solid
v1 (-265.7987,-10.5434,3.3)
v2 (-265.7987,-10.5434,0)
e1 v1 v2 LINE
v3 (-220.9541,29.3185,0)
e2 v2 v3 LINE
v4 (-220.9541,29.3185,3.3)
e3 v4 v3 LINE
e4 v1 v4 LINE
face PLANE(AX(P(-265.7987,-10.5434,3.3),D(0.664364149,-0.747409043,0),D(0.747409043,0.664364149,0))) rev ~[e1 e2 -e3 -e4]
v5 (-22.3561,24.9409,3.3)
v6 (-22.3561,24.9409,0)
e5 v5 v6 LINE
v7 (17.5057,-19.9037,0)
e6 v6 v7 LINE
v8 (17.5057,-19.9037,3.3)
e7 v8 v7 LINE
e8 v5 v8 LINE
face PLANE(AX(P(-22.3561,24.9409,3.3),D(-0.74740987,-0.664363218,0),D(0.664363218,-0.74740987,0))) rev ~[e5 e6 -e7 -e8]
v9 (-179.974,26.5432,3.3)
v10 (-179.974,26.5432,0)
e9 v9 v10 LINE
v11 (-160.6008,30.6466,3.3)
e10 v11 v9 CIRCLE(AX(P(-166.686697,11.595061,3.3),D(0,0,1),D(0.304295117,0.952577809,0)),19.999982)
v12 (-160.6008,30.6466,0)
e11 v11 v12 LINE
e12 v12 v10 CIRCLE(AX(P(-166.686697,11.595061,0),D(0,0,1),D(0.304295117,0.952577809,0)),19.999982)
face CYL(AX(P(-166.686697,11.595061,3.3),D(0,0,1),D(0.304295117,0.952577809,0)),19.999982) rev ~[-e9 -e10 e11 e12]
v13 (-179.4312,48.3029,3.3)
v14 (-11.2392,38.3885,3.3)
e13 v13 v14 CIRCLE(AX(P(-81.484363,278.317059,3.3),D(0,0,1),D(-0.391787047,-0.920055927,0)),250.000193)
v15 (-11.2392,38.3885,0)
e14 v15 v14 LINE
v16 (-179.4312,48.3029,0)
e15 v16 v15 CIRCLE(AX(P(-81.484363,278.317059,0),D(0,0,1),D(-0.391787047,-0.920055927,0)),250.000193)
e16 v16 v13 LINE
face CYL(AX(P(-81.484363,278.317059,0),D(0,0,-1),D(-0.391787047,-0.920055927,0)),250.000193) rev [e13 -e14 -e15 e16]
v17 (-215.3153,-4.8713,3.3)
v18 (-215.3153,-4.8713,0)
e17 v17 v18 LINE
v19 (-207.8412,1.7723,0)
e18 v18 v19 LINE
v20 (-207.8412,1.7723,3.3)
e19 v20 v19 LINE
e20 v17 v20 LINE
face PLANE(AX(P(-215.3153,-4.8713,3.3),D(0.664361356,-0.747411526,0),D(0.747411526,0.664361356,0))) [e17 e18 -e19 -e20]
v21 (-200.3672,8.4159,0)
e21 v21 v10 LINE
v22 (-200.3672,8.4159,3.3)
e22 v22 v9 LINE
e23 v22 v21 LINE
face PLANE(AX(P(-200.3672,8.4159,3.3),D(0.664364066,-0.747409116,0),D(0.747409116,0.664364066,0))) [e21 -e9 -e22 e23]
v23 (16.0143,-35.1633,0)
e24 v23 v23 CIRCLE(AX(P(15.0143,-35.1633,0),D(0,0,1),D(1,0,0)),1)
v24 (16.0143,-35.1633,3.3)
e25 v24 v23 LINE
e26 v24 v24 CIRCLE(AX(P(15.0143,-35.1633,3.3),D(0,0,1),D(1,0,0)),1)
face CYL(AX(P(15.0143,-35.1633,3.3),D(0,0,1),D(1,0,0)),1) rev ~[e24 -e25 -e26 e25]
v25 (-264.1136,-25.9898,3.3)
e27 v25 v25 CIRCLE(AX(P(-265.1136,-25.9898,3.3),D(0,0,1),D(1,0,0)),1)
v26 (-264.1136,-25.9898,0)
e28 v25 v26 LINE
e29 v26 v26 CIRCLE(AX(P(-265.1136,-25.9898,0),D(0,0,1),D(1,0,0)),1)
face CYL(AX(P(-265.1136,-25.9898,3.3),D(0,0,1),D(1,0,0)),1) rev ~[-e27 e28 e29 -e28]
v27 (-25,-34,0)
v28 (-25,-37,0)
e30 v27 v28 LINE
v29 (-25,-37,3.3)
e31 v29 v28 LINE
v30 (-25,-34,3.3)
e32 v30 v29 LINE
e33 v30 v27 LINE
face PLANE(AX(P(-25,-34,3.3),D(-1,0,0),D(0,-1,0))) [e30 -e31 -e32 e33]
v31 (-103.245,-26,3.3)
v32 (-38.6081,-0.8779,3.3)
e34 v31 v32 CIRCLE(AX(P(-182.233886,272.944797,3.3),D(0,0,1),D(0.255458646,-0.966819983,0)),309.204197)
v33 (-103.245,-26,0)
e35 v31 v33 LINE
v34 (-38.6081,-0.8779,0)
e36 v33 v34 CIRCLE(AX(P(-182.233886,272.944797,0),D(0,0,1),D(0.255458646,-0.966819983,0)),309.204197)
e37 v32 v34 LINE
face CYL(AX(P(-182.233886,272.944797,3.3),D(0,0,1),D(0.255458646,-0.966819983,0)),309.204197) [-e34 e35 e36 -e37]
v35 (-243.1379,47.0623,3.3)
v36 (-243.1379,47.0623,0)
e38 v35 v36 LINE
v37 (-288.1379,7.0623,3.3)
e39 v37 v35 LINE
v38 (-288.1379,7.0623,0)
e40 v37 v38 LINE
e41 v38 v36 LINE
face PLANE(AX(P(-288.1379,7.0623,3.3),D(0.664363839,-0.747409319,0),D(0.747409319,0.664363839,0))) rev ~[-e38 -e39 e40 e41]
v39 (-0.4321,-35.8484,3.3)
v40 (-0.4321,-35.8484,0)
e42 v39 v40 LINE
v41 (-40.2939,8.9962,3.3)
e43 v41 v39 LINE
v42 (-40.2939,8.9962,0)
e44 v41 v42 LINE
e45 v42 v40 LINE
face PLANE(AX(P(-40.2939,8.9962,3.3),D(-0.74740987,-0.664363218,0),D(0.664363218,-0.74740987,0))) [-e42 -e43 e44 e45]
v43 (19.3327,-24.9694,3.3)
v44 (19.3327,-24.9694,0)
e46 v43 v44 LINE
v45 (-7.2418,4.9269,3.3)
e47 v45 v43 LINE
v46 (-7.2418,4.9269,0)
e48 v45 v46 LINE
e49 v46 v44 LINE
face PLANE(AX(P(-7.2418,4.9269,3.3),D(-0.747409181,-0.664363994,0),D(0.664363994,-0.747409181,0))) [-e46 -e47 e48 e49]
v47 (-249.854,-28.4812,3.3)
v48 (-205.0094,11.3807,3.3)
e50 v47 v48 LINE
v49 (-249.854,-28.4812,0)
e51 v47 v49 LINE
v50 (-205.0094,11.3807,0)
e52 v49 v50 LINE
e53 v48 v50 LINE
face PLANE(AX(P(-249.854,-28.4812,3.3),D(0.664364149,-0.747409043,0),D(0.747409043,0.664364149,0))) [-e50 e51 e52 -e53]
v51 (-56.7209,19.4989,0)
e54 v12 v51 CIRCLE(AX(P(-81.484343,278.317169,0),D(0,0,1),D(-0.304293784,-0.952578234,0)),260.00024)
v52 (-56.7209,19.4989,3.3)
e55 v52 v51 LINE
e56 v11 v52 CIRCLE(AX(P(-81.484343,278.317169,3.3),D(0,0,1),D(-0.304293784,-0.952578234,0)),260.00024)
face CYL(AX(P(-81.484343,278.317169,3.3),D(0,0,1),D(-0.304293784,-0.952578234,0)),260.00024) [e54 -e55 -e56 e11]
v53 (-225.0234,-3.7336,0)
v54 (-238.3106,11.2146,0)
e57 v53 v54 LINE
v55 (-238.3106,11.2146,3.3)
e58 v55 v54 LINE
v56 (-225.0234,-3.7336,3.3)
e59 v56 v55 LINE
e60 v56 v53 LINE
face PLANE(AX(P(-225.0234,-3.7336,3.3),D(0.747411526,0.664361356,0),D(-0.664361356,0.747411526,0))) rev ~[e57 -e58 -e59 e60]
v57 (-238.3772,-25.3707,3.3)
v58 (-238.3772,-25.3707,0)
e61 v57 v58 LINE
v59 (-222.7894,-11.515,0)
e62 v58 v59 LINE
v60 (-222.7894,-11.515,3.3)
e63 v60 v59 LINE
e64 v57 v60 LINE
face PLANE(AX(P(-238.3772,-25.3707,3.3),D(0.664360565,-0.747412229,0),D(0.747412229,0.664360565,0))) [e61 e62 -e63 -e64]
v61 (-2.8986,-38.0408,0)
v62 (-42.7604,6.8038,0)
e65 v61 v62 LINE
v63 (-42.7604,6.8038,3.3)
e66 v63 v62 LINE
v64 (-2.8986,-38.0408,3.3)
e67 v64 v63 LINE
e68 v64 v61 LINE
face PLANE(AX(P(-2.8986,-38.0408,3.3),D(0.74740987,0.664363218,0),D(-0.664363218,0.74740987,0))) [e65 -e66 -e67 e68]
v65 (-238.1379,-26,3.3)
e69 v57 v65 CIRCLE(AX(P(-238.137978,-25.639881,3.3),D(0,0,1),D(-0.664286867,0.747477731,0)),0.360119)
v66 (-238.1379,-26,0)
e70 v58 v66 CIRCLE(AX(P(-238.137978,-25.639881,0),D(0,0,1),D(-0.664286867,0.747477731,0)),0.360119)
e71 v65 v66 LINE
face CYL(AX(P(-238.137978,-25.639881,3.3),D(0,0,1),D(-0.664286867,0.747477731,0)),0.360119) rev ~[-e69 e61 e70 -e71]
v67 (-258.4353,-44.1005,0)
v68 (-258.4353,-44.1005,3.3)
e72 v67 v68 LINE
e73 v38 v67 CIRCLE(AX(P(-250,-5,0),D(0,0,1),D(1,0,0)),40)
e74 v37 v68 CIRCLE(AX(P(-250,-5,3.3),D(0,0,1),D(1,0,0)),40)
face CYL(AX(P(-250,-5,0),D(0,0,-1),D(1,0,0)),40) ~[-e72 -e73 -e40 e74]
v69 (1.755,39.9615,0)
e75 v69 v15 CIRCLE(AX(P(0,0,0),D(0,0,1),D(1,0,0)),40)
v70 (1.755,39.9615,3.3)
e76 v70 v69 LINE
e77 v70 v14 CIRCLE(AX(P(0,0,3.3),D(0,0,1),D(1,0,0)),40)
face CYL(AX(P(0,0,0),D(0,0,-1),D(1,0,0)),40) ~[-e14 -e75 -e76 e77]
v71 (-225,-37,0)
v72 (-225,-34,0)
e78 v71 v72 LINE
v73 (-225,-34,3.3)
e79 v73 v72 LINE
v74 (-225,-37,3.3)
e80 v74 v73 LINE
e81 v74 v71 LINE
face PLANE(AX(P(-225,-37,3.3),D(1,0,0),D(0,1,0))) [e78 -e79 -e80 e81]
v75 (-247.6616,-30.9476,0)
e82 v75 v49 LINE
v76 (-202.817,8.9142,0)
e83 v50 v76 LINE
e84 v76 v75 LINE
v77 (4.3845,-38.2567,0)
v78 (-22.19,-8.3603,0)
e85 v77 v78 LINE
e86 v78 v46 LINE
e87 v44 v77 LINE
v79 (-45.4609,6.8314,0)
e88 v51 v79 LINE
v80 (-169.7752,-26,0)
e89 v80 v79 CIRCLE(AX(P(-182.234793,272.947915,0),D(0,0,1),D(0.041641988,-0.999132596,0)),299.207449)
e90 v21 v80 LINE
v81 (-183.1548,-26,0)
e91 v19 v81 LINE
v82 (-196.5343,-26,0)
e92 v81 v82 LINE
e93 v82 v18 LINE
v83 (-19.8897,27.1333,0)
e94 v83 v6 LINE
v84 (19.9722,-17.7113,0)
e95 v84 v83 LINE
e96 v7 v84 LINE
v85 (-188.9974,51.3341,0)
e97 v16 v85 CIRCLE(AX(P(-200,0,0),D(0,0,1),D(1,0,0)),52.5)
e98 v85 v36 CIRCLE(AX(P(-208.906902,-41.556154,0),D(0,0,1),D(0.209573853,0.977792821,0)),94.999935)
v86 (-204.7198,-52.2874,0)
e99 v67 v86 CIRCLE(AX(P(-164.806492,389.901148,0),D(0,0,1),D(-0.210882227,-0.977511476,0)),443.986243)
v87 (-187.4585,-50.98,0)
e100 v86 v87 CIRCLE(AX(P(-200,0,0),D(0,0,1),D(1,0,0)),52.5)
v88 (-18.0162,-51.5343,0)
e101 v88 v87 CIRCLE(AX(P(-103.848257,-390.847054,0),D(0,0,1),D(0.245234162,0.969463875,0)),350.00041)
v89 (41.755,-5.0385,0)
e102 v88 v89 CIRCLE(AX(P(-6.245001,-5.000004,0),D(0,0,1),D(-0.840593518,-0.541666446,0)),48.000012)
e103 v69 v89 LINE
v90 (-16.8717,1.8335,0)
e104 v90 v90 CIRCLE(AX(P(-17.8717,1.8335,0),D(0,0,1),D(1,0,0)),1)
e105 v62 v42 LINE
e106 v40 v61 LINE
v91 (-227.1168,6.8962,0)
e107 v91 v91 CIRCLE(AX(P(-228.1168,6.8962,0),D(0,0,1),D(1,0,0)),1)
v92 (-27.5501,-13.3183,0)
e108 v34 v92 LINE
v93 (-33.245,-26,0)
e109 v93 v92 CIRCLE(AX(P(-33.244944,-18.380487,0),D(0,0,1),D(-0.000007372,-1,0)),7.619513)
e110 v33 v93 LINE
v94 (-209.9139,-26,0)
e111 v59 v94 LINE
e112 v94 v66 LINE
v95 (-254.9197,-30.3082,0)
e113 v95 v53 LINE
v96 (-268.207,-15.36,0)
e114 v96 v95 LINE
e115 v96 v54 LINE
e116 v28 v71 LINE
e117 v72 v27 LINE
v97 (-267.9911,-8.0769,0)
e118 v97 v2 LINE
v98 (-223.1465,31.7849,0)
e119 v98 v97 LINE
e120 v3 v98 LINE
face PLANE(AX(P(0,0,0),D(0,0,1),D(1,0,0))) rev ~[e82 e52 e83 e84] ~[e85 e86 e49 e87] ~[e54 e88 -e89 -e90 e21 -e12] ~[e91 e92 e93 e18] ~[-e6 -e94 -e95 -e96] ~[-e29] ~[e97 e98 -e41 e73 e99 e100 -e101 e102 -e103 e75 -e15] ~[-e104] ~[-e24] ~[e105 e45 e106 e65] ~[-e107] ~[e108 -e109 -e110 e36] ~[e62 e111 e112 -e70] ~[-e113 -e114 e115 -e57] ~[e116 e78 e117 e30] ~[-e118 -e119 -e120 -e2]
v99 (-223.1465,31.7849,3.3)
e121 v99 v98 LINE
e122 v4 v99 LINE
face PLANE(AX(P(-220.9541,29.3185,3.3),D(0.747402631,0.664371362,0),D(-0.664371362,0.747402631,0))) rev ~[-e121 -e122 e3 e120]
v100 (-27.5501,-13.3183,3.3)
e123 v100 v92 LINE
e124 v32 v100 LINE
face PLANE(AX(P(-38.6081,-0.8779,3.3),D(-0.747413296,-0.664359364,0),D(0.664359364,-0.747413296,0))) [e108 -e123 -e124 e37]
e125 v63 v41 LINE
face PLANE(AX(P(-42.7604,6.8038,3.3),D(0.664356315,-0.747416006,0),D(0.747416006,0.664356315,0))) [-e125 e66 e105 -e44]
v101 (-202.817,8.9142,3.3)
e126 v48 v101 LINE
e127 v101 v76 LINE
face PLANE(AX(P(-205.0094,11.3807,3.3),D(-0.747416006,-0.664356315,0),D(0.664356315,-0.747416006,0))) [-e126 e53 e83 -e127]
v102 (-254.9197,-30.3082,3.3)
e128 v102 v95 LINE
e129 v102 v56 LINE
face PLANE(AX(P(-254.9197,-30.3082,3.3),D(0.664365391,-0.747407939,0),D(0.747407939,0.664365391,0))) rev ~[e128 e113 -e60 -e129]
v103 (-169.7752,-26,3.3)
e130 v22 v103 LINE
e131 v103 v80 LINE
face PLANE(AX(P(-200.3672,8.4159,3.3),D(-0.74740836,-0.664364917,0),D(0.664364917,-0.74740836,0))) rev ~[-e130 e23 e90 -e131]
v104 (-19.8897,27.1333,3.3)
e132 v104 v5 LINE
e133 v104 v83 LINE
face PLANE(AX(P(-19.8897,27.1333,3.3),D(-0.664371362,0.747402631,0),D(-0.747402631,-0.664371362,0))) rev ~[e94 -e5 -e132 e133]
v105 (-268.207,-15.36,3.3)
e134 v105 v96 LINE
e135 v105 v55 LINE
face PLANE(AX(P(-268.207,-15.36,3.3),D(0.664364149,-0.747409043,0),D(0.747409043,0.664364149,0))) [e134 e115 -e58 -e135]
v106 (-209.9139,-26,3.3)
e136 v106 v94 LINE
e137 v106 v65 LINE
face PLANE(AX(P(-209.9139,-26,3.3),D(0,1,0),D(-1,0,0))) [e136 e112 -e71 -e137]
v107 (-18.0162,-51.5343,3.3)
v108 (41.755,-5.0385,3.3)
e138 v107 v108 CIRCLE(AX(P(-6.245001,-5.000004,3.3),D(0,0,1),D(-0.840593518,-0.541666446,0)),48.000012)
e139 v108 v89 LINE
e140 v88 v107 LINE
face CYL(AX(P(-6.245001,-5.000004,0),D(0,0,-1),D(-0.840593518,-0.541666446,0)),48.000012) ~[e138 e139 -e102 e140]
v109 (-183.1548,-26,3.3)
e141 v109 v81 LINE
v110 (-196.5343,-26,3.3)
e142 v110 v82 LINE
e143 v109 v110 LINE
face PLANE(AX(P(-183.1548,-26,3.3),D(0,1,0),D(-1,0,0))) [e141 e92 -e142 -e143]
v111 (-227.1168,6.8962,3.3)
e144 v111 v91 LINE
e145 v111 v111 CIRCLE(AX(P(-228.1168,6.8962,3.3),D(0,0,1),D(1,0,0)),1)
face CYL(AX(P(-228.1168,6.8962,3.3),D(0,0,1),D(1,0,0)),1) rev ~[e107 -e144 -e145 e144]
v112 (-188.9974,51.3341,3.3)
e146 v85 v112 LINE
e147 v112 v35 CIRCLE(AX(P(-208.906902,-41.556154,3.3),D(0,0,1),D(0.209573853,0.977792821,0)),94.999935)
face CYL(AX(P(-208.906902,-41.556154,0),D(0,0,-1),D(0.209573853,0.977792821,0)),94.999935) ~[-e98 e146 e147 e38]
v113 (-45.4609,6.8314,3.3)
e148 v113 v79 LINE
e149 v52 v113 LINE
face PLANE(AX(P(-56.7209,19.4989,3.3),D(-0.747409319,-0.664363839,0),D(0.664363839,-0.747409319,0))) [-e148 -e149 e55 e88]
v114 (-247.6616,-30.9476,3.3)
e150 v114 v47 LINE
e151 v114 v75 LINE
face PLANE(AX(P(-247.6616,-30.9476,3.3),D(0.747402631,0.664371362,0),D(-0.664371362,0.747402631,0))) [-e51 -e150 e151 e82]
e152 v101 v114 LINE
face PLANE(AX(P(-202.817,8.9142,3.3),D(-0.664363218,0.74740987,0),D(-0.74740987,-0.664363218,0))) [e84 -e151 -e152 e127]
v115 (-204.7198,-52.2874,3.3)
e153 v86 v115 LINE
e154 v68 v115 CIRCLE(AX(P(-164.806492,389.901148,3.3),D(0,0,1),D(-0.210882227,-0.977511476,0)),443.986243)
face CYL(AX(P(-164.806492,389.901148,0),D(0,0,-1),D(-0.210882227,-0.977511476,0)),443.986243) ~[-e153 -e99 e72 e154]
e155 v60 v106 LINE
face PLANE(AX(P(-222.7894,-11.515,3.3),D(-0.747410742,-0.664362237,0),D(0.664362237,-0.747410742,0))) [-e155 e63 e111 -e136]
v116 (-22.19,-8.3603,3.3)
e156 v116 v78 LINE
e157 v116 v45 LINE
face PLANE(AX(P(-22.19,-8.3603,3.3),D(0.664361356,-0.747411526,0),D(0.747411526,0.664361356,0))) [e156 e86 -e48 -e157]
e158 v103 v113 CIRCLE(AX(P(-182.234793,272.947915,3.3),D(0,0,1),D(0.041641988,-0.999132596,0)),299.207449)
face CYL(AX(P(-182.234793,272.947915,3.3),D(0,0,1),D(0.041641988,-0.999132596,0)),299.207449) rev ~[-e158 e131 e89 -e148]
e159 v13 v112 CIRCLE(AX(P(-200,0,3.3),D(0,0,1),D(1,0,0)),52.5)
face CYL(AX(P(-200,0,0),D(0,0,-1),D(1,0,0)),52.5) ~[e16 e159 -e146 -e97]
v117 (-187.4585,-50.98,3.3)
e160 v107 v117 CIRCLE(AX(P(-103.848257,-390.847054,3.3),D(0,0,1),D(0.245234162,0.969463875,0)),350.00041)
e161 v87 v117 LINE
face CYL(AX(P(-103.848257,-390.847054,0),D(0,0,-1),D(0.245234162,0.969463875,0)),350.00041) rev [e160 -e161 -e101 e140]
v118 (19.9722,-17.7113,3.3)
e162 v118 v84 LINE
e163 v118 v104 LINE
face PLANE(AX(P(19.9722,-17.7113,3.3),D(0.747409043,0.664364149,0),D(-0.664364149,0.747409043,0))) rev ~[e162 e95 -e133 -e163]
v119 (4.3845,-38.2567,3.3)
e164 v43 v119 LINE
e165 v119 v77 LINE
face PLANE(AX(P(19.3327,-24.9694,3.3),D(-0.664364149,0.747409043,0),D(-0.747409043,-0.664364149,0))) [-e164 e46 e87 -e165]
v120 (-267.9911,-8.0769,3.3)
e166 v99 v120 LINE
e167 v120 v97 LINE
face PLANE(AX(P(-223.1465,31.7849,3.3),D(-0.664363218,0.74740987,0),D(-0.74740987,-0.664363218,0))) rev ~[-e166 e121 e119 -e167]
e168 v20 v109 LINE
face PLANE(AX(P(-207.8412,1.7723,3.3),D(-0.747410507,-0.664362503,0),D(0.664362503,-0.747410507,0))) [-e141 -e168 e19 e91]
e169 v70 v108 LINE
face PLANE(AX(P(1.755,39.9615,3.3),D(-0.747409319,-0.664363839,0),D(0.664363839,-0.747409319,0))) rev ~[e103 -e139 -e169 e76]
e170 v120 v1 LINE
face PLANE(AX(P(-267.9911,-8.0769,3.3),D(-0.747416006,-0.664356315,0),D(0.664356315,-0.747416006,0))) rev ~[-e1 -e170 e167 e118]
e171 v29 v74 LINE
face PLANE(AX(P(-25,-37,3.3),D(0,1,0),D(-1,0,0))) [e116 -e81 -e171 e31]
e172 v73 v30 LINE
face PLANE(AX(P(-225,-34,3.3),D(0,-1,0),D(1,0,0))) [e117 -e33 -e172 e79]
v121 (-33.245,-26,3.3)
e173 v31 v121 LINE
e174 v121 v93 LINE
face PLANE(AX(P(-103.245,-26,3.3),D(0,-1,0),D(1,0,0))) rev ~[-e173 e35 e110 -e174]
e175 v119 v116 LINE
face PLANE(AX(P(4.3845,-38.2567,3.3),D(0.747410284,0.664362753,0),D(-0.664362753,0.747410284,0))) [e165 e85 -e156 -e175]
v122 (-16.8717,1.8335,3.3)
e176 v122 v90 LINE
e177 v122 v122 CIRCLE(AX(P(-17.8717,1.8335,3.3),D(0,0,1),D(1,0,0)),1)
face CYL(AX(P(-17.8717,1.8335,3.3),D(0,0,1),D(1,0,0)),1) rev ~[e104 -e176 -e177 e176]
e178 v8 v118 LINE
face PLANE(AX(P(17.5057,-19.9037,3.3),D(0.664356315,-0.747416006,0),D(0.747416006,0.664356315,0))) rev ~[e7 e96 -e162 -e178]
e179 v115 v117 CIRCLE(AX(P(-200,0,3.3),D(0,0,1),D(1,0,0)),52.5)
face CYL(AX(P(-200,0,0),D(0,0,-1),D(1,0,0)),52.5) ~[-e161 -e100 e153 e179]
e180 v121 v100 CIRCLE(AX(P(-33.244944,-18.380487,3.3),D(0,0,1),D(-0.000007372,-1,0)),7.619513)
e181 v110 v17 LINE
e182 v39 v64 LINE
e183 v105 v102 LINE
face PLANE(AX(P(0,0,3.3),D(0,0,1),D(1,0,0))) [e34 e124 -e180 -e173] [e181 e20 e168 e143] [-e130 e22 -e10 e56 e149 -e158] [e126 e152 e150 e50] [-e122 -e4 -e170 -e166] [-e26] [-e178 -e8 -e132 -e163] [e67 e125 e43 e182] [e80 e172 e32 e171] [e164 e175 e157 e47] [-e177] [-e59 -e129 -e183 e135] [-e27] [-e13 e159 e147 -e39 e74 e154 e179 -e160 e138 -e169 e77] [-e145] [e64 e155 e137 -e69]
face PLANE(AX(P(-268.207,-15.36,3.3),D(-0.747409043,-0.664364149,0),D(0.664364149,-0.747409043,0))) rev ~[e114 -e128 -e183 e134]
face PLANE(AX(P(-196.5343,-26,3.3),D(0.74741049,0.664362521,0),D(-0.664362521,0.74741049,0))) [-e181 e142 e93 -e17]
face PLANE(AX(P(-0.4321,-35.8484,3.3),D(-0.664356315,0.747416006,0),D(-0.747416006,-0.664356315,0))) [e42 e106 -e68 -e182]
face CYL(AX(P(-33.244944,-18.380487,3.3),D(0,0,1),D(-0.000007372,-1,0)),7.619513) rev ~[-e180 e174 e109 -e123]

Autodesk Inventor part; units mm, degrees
ref_plane "YZ Plane" through (0, 0, 0) normal (1, 0, 0) x (0, 1, 0)
ref_plane "XZ Plane" through (0, 0, 0) normal (0, 1, 0) x (-1, 0, 0)
ref_plane "XY Plane" through (0, 0, 0) normal (0, 0, 1) x (1, 0, 0)
sketch "Boceto2" plane through (0, 0, 0) normal (0, 0, 1) x (1, 0, 0)
  circle A0 centre (0, 0) radius 40
  circle A1 centre (-200, 0) radius 52.5
  circle A2 centre (-250, -5) radius 40
  arc A3 (-258.4353, -44.1005) -> (-204.7198, -52.2874) centre (-164.804, 389.9147) ccw
  arc A4 (-188.9974, 51.3341) -> (-279.8859, 21.5863) centre (-208.9069, -41.5562) ccw
  arc A5 (-179.4312, 48.3029) -> (-11.2392, 38.3885) centre (-81.4844, 278.3169) ccw
  arc A6 (-46.5935, -31) -> (31.225, 25) centre (-6.245, -5) ccw
  arc A7 (-18.0162, -51.5343) -> (-187.4585, -50.98) centre (-103.8482, -390.8466) ccw
  dimension "d42" = 80
  dimension "d43" = 200
  dimension "d44" = 105
  dimension "d45" = 80
  dimension "d46" = 50
  dimension "d47" = 5
  dimension "d48" = 444
  dimension "d49" = 95
  dimension "d50" = 250
  dimension "d51" = 350
  dimension "d52" = 5
  dimension "d53" = 48
  dimension "d54" = 31
extrude "Extrusión1" add sketch "Boceto2" along normal blind 3.3
sketch "Boceto3" plane through (0, 0, 3.3) normal (0, 0, 1) x (1, 0, 0)
  arc A0 (-179.4312, 48.3029) -> (-11.2392, 38.3885) centre (-81.4844, 278.3169) ccw projected
  arc A1 (31.225, 25) -> (-11.2392, 38.3885) centre (0, 0) ccw projected
  arc A2 (-179.4312, 48.3029) -> (-11.2392, 38.3885) centre (-81.4844, 278.3169) ccw projected
  arc A3 (-179.4312, 48.3029) -> (-188.9974, 51.3341) centre (-200, 0) ccw projected
  arc A4 (-188.9974, 51.3341) -> (-279.8859, 21.5863) centre (-208.9069, -41.5562) ccw projected
  arc A5 (-279.8859, 21.5863) -> (-258.4353, -44.1005) centre (-250, -5) ccw projected
  arc A6 (-258.4353, -44.1005) -> (-204.7198, -52.2874) centre (-164.804, 389.9147) ccw projected
  arc A7 (-204.7198, -52.2874) -> (-187.4585, -50.98) centre (-200, 0) ccw projected
  arc A8 (-18.0162, -51.5343) -> (-187.4585, -50.98) centre (-103.8482, -390.8466) ccw projected
  arc A9 (-18.0162, -51.5343) -> (31.225, 25) centre (-6.245, -5) ccw projected
  arc A10 (-18.0162, -51.5343) -> (31.225, 25) centre (-6.245, -5) ccw projected
  arc A11 (31.225, 25) -> (-11.2392, 38.3885) centre (0, 0) ccw projected
  line L0 (1.755, 39.9615) -> (41.755, -5.0385)
  arc A12 (-279.8859, 21.5863) -> (-258.4353, -44.1005) centre (-250, -5) ccw projected
  line L1 (-288.1379, 7.0623) -> (-243.1379, 47.0623)
  arc A13 (-188.9974, 51.3341) -> (-279.8859, 21.5863) centre (-208.9069, -41.5562) ccw projected
  line L2 (-7.2418, 4.9269) -> (19.3327, -24.9694)
  line L3 (19.3327, -24.9694) -> (4.3845, -38.2567)
  line L4 (4.3845, -38.2567) -> (-22.19, -8.3603)
  line L5 (-22.19, -8.3603) -> (-7.2418, 4.9269)
  line L6 (-268.207, -15.36) -> (-254.9197, -30.3082)
  line L7 (-254.9197, -30.3082) -> (-225.0234, -3.7336)
  line L8 (-225.0234, -3.7336) -> (-238.3106, 11.2146)
  line L9 (-268.207, -15.36) -> (-238.3106, 11.2146)
  line L10 (-265.7987, -10.5434) -> (-220.9541, 29.3185)
  line L11 (-223.1465, 31.7849) -> (-267.9911, -8.0769)
  line L12 (-249.854, -28.4812) -> (-205.0094, 11.3807)
  line L13 (-205.0094, 11.3807) -> (-202.817, 8.9142)
  line L14 (-202.817, 8.9142) -> (-247.6616, -30.9476)
  line L15 (-247.6616, -30.9476) -> (-249.854, -28.4812)
  circle A14 centre (-228.1168, 6.8962) radius 1
  circle A15 centre (-265.1136, -25.9898) radius 1
  line L16 (-22.3561, 24.9409) -> (17.5057, -19.9037)
  line L17 (17.5057, -19.9037) -> (19.9722, -17.7113)
  line L18 (19.9722, -17.7113) -> (-19.8897, 27.1333)
  line L19 (-19.8897, 27.1333) -> (-22.3561, 24.9409)
  line L20 (-40.2939, 8.9962) -> (-0.4321, -35.8484)
  line L21 (-0.4321, -35.8484) -> (-2.8986, -38.0408)
  line L22 (-2.8986, -38.0408) -> (-42.7604, 6.8038)
  line L23 (-42.7604, 6.8038) -> (-40.2939, 8.9962)
  circle A16 centre (-17.8717, 1.8335) radius 1
  circle A17 centre (15.0143, -35.1633) radius 1
  arc A18 (-18.0162, -51.5343) -> (-187.4585, -50.98) centre (-103.8482, -390.8466) ccw projected
  line L24 (-220.9541, 29.3185) -> (-223.1465, 31.7849)
  line L25 (-267.9911, -8.0769) -> (-265.7987, -10.5434)
  line L26 (-253.2588, -2.0727) -> (-239.9715, -17.0209) construction
  line L27 (-8.9028, -23.3085) -> (6.0454, -10.0212) construction
  line L28 (-225, -34) -> (-25, -34)
  line L29 (-25, -34) -> (-25, -37)
  line L30 (-25, -37) -> (-225, -37)
  line L31 (-225, -37) -> (-225, -34)
  dimension "d59" = 40
  dimension "d60" = 45
  dimension "d61" = 40
  dimension "d62" = 45
  dimension "d65" = 40
  dimension "d66" = 20
  dimension "d68" = 30
  dimension "d69" = 0
  dimension "d70" = 40
  dimension "d71" = 20
  dimension "d73" = 30
  dimension "d74" = 0
  dimension "d75" = 2
  dimension "d76" = 2
  dimension "d77" = 3.3
  dimension "d78" = 3.3
  dimension "d80" = 60
  dimension "d84" = 2
  dimension "d85" = 2
  dimension "d86" = 4.75
  dimension "d87" = 10
  dimension "d88" = 4.75
  dimension "d89" = 10
  dimension "d90" = 2
  dimension "d91" = 2
  dimension "d94" = 3.3
  dimension "d95" = 3.3
  dimension "d96" = 60
  dimension "d97" = 60
  dimension "d98" = 2
  dimension "d99" = 10
  dimension "d100" = 10
  dimension "d101" = 4.75
  dimension "d102" = 4.75
  dimension "d103" = 60
  dimension "d105" = 15
  dimension "d106" = 15
  dimension "d107" = 15
  dimension "d108" = 15
  dimension "d109" = 3
  dimension "d110" = 34
  dimension "d111" = 200
  dimension "d112" = 25
extrude "Extrusión2" cut sketch "Boceto3" against normal blind 3.3 contours A1 A9 L0 | L1 A5 A4 | L2 L3 L4 L5 | L9 L8 L7 L6 | L25 L11 L24 L10 | L12 L13 L14 L15 | A14 | A15 | L19 L18 L17 L16 | L20 L21 L22 L23 | A16 | A17 | L28 L29 L30 L31
sketch "Sketch4" plane through (0, 0, 3.3) normal (0, 0, 1) x (1, 0, 0)
  arc A0 (-179.4312, 48.3029) -> (-11.2392, 38.3885) centre (-81.4844, 278.3169) ccw projected
  line L0 (-225, -34) -> (-25, -34) projected
  arc A1 (-179.4312, 48.3029) -> (-188.9974, 51.3341) centre (-200, 0) ccw projected
  arc A2 (-188.9974, 51.3341) -> (-243.1379, 47.0623) centre (-208.9069, -41.5562) ccw projected
  line L1 (-209.9139, -26) -> (-238.1379, -26)
  line L2 (41.755, -5.0385) -> (1.755, 39.9615) projected
  arc A3 (1.755, 39.9615) -> (-11.2392, 38.3885) centre (0, 0) ccw projected
  arc A4 (-179.4312, 48.3029) -> (-11.2392, 38.3885) centre (-81.4844, 278.3169) ccw projected
  arc A5 (-179.4312, 48.3029) -> (-188.9974, 51.3341) centre (-200, 0) ccw projected
  arc A6 (-188.9974, 51.3341) -> (-243.1379, 47.0623) centre (-208.9069, -41.5562) ccw projected
  line L3 (-243.1379, 47.0623) -> (-288.1379, 7.0623) projected
  arc A7 (-288.1379, 7.0623) -> (-258.4353, -44.1005) centre (-250, -5) ccw projected
  arc A8 (-258.4353, -44.1005) -> (-204.7198, -52.2874) centre (-164.804, 389.9147) ccw projected
  arc A9 (-204.7198, -52.2874) -> (-187.4585, -50.98) centre (-200, 0) ccw projected
  arc A10 (-18.0162, -51.5343) -> (-187.4585, -50.98) centre (-103.8482, -390.8466) ccw projected
  arc A11 (-18.0162, -51.5343) -> (41.755, -5.0385) centre (-6.245, -5) ccw projected
  line L4 (-225.0234, -3.7336) -> (-254.9197, -30.3082) projected
  line L5 (-254.9197, -30.3082) -> (-268.207, -15.36) projected
  line L6 (-268.207, -15.36) -> (-238.3106, 11.2146) projected
  line L7 (-238.3106, 11.2146) -> (-225.0234, -3.7336) projected
  line L8 (-247.6616, -30.9476) -> (-249.854, -28.4812) projected
  line L9 (-249.854, -28.4812) -> (-205.0094, 11.3807) projected
  line L10 (-205.0094, 11.3807) -> (-202.817, 8.9142) projected
  line L11 (-202.817, 8.9142) -> (-247.6616, -30.9476) projected
  line L12 (19.9722, -17.7113) -> (17.5057, -19.9037) projected
  line L13 (17.5057, -19.9037) -> (-22.3561, 24.9409) projected
  line L14 (-22.3561, 24.9409) -> (-19.8897, 27.1333) projected
  line L15 (-19.8897, 27.1333) -> (19.9722, -17.7113) projected
  circle A12 centre (15.0143, -35.1633) radius 1 projected
  circle A13 centre (-265.1136, -25.9898) radius 1 projected
  circle A14 centre (-228.1168, 6.8962) radius 1 projected
  circle A15 centre (-17.8717, 1.8335) radius 1 projected
  line L16 (-42.7604, 6.8038) -> (-40.2939, 8.9962) projected
  line L17 (-40.2939, 8.9962) -> (-0.4321, -35.8484) projected
  line L18 (-0.4321, -35.8484) -> (-2.8986, -38.0408) projected
  line L19 (-2.8986, -38.0408) -> (-42.7604, 6.8038) projected
  line L20 (-223.1465, 31.7849) -> (-220.9541, 29.3185) projected
  line L21 (-220.9541, 29.3185) -> (-265.7987, -10.5434) projected
  line L22 (-265.7987, -10.5434) -> (-267.9911, -8.0769) projected
  line L23 (-267.9911, -8.0769) -> (-223.1465, 31.7849) projected
  line L24 (-22.19, -8.3603) -> (-7.2418, 4.9269) projected
  line L25 (-7.2418, 4.9269) -> (19.3327, -24.9694) projected
  line L26 (19.3327, -24.9694) -> (4.3845, -38.2567) projected
  line L27 (4.3845, -38.2567) -> (-22.19, -8.3603) projected
  line L28 (-225, -37) -> (-225, -34) projected
  line L29 (-225, -34) -> (-25, -34) projected
  line L30 (-25, -34) -> (-25, -37) projected
  line L31 (-25, -37) -> (-225, -37) projected
  line L32 (-202.817, 8.9142) -> (-247.6616, -30.9476) projected
  arc A16 (-238.3772, -25.3707) -> (-238.1379, -26) centre (-238.1379, -25.6399) ccw
  line L33 (-238.3772, -25.3707) -> (-222.7894, -11.515)
  line L34 (-222.7894, -11.515) -> (-209.9139, -26)
  line L35 (-196.5343, -26) -> (-215.3153, -4.8713)
  line L36 (-215.3153, -4.8713) -> (-207.8412, 1.7723)
  line L37 (-207.8412, 1.7723) -> (-183.1548, -26)
  line L38 (-183.1548, -26) -> (-196.5343, -26)
  line L39 (-200.3672, 8.4159) -> (-169.7752, -26)
  line L40 (-200.3672, 8.4159) -> (-179.974, 26.5432)
  arc A17 (-160.6008, 30.6466) -> (-179.974, 26.5432) centre (-166.6867, 11.595) ccw
  arc A18 (-160.6008, 30.6466) -> (-56.7209, 19.4989) centre (-81.4844, 278.3169) ccw
  line L41 (-56.7209, 19.4989) -> (-45.4609, 6.8314)
  arc A19 (-103.245, -26) -> (-38.6081, -0.8779) centre (-182.2347, 272.9473) ccw
  line L42 (-267.9911, -8.0769) -> (-223.1465, 31.7849) projected
  arc A20 (-18.0162, -51.5343) -> (41.755, -5.0385) centre (-6.245, -5) ccw projected
  line L43 (-103.245, -26) -> (-33.245, -26)
  arc A21 (-33.245, -26) -> (-27.5501, -13.3183) centre (-33.245, -18.3804) ccw
  line L44 (-38.6081, -0.8779) -> (-27.5501, -13.3183)
  line L45 (-2.8986, -38.0408) -> (-42.7604, 6.8038) projected
  line L46 (-42.7604, 6.8038) -> (-40.2939, 8.9962) projected
  arc A22 (-169.7752, -26) -> (-45.4609, 6.8314) centre (-182.2347, 272.9473) ccw
  line L47 (-223.1465, 31.7849) -> (-220.9541, 29.3185) projected
  dimension "d113" = 10
  dimension "d114" = 10
  dimension "d115" = 10
  dimension "d117" = 10
  dimension "d119" = 50
  dimension "d121" = 10
  dimension "d126" = 10
  dimension "d129" = 10
  dimension "d130" = 75
  dimension "d131" = 70
  dimension "d132" = 20
  dimension "d136" = 10
  dimension "d139" = 10
extrude "Extrusión5" cut sketch "Sketch4" against normal blind 10 contours L1 A16 L33 L34 | L35 L36 L37 L38 | L40 A17 A18 L41 A22 L39 | A19 L44 A21 L43
equation "\"d45\" = d42"
equation "\"d65\" = altura_servo"
equation "\"d66\" = base_servo"
equation "\"d70\" = d65"
equation "\"d71\" = d66"
equation "\"d78\" = d77"
equation "\"d84\" = agujero_servo"
equation "\"d85\" = d84"
equation "\"d87\" = 0.5 * d71"
equation "\"d88\" = d86"
equation "\"d89\" = 0.5 * d71"
equation "\"d91\" = d90"
equation "\"d95\" = d94"
equation "\"d97\" = d96"
equation "\"d98\" = agujero_servo"
equation "\"d99\" = 0.5 * d66"
equation "\"d100\" = d99"
equation "\"d102\" = d101"
equation "\"soporte\" = 60"
equation "\"largo_base\" = 200"
equation "\"altura_servo\" = 40"
equation "\"base_servo\" = 20"
equation "\"agujero_servo\" = 2"
properties part number "Cuerpo - Lateral"
